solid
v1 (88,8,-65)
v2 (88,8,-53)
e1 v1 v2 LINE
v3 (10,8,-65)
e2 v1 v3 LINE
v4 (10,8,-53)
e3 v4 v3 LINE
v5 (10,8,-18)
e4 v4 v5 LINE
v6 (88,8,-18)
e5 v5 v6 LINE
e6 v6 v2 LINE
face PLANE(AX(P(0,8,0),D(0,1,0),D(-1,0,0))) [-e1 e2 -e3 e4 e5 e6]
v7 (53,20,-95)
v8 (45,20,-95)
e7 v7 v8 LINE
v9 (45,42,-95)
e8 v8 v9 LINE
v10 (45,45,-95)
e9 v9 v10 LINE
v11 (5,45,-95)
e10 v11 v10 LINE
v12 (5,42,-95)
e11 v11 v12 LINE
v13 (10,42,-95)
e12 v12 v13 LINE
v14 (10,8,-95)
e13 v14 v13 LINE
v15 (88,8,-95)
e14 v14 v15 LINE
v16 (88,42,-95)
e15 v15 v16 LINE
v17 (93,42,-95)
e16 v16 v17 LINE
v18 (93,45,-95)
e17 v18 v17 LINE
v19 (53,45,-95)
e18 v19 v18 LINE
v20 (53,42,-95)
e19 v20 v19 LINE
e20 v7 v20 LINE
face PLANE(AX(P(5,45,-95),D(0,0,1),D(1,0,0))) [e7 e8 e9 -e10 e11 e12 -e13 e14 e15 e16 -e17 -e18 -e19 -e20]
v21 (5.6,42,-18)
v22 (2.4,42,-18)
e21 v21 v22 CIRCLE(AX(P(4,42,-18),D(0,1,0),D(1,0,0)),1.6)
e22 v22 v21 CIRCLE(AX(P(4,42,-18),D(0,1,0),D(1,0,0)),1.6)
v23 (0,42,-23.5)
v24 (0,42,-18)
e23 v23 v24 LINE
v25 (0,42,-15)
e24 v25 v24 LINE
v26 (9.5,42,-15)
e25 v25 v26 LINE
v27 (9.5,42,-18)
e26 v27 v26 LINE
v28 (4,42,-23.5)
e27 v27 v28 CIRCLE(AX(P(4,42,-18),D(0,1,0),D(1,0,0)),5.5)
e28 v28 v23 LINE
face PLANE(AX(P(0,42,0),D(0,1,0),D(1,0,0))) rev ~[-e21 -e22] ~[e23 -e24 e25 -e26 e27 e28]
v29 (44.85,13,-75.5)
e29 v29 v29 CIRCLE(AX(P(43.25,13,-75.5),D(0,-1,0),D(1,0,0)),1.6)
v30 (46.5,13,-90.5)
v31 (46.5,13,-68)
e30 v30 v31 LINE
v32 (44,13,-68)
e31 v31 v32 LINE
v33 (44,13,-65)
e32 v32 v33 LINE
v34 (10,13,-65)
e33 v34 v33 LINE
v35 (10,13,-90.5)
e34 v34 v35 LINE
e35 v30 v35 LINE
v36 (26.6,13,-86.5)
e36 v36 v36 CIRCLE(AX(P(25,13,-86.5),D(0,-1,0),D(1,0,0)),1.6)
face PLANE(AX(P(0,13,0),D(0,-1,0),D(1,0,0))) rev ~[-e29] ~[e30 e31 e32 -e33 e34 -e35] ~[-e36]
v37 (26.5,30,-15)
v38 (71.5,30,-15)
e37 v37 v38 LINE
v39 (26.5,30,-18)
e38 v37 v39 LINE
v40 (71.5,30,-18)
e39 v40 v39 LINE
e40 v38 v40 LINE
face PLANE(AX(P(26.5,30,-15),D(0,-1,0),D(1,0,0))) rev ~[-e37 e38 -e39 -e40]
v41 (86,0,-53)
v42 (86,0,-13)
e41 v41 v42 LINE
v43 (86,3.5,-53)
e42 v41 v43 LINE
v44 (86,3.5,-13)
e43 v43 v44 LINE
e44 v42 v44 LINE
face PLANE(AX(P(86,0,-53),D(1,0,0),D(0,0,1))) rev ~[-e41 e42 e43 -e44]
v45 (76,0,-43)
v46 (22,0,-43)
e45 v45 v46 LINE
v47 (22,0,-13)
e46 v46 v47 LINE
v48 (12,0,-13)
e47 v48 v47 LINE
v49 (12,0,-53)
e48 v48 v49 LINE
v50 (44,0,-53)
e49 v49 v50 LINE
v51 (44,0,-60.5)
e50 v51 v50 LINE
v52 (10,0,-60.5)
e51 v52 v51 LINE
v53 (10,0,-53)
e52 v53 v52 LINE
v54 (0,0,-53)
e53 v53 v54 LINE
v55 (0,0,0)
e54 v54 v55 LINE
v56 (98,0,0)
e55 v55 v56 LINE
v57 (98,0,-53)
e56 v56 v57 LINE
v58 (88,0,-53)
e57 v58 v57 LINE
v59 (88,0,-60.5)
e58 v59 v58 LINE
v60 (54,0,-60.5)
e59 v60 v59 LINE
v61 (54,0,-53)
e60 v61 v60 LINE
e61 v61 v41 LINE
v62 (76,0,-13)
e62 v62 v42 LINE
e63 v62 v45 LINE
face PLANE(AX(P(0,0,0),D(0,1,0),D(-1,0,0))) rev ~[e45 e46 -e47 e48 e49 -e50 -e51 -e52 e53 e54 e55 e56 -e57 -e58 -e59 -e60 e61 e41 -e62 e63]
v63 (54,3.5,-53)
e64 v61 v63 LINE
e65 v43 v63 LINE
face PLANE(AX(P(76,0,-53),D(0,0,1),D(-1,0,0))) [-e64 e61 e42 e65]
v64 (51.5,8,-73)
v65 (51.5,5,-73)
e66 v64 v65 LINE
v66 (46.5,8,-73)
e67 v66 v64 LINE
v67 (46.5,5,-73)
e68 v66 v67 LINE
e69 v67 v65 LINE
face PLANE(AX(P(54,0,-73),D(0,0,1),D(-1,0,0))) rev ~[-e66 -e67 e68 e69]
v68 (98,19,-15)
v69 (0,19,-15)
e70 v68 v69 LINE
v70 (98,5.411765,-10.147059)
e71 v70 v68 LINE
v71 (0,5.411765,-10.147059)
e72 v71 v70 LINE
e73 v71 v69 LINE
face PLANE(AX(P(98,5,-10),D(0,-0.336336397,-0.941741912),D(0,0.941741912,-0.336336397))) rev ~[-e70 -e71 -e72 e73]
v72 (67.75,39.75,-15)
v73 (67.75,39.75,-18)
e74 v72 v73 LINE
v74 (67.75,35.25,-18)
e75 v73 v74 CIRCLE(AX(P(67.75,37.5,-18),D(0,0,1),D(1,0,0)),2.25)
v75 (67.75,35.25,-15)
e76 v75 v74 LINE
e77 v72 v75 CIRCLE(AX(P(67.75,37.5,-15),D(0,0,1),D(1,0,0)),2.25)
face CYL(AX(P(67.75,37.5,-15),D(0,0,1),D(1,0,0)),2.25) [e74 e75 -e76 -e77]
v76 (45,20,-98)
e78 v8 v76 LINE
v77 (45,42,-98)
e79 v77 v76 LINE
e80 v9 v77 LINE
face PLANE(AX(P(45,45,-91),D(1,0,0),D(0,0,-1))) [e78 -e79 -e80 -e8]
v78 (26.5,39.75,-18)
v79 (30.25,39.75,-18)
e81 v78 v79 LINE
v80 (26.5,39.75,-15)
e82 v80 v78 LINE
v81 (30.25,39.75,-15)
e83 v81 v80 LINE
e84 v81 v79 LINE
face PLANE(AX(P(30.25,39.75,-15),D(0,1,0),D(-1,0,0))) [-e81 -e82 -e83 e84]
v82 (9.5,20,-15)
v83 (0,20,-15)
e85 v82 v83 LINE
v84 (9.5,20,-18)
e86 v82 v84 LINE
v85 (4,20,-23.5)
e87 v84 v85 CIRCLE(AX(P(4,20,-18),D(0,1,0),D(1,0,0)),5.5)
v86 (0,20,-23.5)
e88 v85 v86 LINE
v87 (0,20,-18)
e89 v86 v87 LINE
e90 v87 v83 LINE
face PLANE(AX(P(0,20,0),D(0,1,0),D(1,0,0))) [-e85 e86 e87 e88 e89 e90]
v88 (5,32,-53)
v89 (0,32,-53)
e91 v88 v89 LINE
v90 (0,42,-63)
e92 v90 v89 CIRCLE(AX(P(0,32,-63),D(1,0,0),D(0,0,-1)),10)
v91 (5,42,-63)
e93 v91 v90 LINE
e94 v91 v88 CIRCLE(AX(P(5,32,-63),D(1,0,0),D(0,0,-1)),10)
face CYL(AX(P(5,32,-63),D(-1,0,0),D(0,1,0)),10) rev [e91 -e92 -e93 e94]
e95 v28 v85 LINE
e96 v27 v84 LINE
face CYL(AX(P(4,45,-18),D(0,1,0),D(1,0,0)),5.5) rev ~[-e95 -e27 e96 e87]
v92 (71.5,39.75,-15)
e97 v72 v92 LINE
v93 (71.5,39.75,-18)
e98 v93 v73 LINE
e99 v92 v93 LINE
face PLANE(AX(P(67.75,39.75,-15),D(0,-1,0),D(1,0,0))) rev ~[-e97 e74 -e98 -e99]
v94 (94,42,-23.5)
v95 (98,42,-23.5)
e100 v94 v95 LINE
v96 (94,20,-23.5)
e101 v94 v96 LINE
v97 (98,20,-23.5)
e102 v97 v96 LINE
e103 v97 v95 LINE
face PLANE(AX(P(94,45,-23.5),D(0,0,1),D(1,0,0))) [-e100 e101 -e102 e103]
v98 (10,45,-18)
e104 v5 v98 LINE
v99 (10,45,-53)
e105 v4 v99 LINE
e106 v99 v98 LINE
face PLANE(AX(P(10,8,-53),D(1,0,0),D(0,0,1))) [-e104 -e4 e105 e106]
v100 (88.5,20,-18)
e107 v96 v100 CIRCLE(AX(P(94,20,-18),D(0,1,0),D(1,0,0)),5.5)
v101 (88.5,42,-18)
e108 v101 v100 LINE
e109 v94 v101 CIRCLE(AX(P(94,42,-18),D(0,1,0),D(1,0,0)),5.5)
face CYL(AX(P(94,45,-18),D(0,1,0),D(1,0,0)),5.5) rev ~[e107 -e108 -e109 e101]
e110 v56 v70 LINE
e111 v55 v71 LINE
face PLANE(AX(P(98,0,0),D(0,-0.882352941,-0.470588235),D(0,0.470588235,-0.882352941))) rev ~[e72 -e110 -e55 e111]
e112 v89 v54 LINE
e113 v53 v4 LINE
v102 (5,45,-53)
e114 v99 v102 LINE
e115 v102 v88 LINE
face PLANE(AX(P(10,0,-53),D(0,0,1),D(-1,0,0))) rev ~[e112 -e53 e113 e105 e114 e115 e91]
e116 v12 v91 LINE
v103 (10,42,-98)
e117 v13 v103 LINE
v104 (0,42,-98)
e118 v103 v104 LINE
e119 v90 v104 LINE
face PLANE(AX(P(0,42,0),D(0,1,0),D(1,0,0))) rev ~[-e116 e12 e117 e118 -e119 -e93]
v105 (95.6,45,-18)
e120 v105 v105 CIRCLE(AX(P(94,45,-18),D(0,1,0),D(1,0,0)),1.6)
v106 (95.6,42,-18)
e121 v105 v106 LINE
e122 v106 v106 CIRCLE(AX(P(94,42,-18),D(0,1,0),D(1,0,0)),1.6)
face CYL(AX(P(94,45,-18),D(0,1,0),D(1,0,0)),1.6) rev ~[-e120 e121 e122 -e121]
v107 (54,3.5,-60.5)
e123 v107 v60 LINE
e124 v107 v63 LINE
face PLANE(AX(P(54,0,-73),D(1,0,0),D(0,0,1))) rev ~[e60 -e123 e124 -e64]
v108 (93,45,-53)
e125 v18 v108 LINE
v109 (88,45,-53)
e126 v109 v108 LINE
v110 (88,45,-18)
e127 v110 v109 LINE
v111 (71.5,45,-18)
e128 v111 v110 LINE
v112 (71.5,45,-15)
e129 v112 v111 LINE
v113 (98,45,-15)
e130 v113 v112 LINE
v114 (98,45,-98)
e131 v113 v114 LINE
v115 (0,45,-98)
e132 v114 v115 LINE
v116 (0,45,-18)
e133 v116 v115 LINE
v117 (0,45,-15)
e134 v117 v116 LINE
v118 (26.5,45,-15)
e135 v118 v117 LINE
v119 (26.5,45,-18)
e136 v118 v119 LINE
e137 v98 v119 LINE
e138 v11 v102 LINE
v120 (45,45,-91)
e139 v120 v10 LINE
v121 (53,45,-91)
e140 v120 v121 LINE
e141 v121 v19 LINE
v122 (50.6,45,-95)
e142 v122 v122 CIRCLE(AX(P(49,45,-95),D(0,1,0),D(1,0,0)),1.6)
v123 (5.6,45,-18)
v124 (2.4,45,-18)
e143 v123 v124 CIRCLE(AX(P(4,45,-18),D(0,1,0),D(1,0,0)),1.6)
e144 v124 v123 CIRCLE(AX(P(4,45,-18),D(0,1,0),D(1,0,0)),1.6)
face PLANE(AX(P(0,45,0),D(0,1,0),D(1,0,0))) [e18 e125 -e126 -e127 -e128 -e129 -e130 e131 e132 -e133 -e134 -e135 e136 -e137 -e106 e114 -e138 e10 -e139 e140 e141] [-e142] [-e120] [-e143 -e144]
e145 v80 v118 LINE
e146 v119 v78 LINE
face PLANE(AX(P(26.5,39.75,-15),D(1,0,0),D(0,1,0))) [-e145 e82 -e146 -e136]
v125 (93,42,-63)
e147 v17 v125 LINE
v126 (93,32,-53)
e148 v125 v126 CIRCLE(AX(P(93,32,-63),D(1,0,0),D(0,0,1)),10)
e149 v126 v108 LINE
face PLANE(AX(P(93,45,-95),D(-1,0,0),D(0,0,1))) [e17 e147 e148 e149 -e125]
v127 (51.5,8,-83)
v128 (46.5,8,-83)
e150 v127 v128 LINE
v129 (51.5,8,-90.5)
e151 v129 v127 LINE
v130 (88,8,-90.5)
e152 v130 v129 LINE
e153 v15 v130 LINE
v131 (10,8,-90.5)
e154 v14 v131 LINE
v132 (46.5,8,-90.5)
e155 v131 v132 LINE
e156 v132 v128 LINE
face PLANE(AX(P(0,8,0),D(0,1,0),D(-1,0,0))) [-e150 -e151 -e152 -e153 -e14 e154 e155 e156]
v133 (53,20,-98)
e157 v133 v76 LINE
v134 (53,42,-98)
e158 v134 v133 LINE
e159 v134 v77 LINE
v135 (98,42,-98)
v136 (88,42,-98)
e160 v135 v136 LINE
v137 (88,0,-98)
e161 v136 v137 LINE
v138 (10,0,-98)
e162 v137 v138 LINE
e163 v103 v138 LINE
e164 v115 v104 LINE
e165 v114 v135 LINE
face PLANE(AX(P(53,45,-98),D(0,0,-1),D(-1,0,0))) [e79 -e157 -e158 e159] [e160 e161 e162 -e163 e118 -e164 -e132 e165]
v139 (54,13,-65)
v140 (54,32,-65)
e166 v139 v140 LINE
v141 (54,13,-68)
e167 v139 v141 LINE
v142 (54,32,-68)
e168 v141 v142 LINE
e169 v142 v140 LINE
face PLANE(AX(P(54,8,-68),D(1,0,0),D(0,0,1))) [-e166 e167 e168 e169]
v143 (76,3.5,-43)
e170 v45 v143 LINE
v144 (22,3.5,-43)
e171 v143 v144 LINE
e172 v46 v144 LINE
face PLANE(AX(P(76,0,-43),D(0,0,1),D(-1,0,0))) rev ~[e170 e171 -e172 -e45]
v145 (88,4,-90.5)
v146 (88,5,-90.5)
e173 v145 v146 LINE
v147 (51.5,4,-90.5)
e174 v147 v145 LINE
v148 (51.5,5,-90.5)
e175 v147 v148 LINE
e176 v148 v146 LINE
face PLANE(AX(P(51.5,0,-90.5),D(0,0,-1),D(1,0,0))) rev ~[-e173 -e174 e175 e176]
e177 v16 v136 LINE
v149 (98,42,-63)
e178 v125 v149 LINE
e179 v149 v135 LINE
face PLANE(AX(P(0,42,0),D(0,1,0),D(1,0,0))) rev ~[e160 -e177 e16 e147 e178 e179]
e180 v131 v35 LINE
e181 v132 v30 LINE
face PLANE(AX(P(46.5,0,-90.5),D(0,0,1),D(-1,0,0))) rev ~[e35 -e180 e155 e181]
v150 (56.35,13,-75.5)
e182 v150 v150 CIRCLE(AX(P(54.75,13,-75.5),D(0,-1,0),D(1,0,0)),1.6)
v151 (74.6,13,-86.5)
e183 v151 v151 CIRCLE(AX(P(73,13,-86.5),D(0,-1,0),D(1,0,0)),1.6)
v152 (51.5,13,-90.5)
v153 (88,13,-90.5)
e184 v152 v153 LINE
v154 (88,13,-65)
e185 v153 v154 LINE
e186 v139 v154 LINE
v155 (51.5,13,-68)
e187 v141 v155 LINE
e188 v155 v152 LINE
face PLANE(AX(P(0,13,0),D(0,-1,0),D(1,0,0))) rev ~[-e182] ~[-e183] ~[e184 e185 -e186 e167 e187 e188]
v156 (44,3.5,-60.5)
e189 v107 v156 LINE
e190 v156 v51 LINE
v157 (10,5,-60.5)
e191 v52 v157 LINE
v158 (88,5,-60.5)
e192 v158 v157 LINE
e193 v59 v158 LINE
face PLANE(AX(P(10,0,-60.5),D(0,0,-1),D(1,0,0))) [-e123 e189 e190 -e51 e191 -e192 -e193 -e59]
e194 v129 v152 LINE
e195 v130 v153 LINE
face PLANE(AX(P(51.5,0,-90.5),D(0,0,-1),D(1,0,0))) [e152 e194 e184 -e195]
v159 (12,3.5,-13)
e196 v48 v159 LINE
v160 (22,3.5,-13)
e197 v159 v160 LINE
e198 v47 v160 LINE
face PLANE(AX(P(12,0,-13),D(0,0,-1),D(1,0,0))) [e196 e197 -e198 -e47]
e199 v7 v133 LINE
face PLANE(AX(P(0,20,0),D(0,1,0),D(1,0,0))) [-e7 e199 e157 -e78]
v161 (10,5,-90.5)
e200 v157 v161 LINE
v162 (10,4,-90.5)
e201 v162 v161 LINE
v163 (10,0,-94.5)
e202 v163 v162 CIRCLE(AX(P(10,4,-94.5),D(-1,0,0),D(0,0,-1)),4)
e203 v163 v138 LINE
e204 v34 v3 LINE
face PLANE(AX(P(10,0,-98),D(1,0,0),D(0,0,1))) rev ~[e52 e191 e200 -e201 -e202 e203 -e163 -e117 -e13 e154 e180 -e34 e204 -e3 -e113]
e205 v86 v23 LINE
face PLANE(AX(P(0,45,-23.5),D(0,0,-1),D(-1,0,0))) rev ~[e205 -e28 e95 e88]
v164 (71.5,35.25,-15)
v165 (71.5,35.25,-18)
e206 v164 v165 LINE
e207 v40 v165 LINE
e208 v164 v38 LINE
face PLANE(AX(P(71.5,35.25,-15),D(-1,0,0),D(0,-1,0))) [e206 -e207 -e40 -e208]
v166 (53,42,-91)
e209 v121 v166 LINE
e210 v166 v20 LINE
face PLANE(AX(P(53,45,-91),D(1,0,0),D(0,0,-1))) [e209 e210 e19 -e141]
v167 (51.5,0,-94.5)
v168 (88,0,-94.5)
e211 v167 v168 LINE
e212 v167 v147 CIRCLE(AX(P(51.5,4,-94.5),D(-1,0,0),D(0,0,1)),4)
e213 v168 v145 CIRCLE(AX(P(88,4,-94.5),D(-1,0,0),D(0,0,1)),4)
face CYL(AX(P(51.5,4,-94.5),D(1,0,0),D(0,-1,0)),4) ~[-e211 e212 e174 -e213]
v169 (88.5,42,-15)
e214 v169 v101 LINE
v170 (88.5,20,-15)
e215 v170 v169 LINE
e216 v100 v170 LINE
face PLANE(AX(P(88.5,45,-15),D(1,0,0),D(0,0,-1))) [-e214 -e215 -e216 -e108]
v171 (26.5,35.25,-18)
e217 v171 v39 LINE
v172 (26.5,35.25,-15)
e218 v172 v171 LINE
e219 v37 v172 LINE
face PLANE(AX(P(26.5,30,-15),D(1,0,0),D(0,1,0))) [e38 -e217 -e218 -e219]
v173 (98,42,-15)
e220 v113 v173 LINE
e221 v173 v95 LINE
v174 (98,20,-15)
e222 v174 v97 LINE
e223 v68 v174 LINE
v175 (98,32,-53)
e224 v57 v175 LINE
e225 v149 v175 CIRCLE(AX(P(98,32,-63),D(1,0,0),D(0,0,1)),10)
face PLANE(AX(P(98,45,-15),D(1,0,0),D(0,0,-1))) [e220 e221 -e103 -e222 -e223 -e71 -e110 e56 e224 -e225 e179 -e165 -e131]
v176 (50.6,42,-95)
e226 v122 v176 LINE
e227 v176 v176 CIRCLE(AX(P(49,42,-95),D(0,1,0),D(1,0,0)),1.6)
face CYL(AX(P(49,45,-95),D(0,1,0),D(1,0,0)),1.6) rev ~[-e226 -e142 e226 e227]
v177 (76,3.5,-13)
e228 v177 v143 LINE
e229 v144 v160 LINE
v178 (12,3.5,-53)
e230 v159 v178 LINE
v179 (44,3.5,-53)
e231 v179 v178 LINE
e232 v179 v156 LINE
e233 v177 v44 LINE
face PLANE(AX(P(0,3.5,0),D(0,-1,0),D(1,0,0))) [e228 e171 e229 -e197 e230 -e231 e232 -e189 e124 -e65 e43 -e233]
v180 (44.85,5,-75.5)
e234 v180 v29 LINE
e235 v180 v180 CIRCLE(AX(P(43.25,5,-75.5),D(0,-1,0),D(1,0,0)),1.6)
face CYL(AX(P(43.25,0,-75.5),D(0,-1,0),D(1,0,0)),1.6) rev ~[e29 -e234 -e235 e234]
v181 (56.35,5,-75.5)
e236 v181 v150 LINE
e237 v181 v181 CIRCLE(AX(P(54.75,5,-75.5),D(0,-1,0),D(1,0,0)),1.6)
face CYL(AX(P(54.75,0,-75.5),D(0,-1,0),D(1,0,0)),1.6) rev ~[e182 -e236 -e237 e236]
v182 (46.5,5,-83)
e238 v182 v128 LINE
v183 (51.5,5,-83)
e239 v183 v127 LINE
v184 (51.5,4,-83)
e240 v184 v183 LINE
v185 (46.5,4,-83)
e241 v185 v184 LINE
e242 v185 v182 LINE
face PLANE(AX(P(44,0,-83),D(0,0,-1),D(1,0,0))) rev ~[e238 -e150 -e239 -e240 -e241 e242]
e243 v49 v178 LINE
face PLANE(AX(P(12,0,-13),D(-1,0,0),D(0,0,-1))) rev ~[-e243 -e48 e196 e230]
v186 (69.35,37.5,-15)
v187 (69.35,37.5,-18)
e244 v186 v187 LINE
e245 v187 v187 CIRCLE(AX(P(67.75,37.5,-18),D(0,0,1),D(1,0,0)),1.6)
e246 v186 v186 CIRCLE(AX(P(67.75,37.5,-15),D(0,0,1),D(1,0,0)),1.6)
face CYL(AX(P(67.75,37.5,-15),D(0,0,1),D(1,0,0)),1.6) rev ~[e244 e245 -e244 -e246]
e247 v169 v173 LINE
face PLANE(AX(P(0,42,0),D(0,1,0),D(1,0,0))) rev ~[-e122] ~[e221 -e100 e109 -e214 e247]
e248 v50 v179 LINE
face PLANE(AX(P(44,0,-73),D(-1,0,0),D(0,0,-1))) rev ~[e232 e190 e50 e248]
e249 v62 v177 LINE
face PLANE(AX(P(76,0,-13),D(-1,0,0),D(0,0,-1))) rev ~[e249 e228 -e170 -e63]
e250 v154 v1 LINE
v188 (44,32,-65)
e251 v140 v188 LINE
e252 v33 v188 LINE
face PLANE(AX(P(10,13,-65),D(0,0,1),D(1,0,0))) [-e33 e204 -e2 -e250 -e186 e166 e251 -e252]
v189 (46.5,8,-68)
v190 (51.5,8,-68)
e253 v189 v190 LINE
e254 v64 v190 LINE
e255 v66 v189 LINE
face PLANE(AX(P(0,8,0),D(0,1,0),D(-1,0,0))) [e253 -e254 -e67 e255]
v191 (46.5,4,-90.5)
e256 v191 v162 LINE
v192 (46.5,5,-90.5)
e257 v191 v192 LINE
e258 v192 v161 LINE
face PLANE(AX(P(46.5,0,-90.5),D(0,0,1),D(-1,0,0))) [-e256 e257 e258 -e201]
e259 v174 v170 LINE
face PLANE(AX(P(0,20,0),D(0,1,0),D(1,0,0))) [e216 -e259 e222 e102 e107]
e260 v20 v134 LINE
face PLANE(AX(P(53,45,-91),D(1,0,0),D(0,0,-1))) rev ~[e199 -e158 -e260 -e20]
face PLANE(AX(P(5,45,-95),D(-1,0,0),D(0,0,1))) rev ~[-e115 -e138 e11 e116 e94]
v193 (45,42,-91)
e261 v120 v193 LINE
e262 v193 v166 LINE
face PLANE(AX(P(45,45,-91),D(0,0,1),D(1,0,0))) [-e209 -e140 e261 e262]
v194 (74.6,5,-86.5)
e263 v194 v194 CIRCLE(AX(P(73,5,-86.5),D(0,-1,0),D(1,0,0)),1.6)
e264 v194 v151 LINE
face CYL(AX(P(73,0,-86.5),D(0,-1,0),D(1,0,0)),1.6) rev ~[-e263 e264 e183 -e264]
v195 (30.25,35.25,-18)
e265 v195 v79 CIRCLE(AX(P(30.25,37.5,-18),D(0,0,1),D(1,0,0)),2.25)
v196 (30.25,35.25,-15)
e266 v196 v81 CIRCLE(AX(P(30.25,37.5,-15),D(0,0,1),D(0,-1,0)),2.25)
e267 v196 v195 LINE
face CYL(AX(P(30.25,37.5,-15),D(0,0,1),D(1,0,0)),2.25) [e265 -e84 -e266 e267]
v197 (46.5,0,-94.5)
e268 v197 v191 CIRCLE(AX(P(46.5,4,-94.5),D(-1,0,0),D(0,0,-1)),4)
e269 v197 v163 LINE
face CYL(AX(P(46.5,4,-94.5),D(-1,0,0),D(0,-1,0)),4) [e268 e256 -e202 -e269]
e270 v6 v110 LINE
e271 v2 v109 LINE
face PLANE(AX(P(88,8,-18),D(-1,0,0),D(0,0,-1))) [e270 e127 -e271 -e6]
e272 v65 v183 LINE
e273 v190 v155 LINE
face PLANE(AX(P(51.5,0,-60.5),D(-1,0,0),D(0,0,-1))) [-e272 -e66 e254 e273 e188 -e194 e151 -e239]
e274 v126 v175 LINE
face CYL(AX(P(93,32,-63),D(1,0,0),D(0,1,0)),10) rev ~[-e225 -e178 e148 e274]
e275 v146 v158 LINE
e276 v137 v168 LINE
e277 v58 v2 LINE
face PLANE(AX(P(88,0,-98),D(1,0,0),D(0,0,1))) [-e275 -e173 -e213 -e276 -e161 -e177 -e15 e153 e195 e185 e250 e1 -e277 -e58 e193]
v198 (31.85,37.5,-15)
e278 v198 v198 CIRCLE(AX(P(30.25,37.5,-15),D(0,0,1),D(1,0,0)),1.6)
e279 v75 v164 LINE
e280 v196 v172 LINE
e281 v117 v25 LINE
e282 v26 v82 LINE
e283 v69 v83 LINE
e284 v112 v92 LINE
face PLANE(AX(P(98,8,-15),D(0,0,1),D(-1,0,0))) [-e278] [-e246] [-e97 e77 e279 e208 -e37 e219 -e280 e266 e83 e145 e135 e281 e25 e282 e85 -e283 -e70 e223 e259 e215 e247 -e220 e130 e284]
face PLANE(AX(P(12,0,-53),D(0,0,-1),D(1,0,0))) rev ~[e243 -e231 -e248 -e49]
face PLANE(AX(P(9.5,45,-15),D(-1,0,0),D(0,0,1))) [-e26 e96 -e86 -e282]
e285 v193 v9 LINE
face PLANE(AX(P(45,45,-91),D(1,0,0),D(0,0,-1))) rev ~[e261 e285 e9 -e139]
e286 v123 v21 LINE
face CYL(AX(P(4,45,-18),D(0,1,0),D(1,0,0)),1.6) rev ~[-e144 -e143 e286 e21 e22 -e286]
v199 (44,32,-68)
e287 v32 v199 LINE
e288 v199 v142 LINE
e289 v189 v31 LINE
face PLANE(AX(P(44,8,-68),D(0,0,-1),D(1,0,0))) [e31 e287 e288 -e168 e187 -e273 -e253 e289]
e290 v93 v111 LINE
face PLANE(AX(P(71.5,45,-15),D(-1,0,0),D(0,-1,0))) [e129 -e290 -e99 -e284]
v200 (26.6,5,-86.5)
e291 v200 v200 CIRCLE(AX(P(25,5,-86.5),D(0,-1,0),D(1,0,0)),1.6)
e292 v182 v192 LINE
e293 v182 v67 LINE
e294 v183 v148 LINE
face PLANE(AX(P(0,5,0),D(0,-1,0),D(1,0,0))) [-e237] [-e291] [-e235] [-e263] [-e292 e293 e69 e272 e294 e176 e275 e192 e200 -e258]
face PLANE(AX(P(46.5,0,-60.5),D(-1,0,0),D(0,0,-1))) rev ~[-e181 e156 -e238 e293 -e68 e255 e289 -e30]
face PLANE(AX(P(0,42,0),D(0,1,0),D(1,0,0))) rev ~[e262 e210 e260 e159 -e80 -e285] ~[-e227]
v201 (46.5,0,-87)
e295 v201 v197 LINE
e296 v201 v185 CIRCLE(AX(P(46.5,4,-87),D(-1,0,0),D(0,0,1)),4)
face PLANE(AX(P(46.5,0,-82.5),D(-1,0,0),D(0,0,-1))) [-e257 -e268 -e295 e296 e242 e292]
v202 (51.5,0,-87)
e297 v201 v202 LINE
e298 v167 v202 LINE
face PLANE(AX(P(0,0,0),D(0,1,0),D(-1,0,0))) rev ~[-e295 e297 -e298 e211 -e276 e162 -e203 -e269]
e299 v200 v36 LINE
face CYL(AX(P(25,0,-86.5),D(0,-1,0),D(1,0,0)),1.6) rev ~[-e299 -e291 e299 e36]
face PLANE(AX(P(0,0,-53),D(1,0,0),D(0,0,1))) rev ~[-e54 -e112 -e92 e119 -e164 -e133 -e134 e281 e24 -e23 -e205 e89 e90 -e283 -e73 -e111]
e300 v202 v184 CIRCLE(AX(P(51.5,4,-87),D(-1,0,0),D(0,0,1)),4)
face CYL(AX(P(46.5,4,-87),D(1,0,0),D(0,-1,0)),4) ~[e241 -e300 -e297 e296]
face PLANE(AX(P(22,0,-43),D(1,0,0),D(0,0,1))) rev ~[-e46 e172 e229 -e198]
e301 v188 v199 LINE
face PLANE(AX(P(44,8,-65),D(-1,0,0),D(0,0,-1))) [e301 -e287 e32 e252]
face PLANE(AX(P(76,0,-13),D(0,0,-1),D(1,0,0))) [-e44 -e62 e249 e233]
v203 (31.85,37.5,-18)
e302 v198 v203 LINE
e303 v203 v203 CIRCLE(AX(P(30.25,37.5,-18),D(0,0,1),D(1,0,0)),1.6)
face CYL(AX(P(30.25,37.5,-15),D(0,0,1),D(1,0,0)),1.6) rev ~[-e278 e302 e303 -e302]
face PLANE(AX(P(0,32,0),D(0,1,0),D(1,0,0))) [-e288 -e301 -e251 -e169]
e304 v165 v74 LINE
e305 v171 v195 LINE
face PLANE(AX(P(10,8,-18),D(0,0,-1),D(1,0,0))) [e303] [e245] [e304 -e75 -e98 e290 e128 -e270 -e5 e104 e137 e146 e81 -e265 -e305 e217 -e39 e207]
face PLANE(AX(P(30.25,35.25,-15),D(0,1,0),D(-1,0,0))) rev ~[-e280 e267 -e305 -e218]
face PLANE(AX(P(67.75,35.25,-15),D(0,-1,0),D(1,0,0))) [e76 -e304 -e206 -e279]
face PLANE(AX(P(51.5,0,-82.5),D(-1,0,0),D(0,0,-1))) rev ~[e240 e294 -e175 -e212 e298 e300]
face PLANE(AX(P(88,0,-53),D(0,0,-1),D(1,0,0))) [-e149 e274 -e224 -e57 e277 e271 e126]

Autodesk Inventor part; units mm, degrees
ref_plane "YZ Plane" through (0, 0, 0) normal (1, 0, 0) x (0, 1, 0)
ref_plane "XZ Plane" through (0, 0, 0) normal (0, 1, 0) x (-1, 0, 0)
ref_plane "XY Plane" through (0, 0, 0) normal (0, 0, 1) x (1, 0, 0)
sketch "Szkic1" plane through (0, 0, 0) normal (0, 1, 0) x (-1, 0, 0)
  line L0 (0, 0) -> (-98, 0)
  line L1 (-98, 0) -> (-98, -98)
  line L2 (-98, -98) -> (0, -98)
  line L3 (0, -98) -> (0, 0)
  line L4 (-88, -98) -> (-88, -53)
  line L5 (-88, -53) -> (-98, -53)
  line L6 (-10, -98) -> (-10, -53)
  line L7 (-10, -53) -> (0, -53)
  dimension "d0" = 98
  dimension "d1" = 98
  dimension "d2" = 45
  dimension "d3" = 10
  dimension "d4" = 10
extrude "Wyciągnięcie proste1" add sketch "Szkic1" along normal blind 8 contours L3 L7 L6 L2 L4 L5 L1 L0
sketch "Szkic2" plane through (0, 8, 0) normal (0, 1, 0) x (1, 0, 0)
  line L0 (0, 0) -> (98, 0)
  line L1 (98, 0) -> (98, 98)
  line L2 (98, 98) -> (0, 98)
  line L3 (0, 98) -> (0, 0)
  line L4 (10, 18) -> (88, 18)
  line L5 (88, 18) -> (88, 65)
  line L6 (88, 65) -> (10, 65)
  line L7 (10, 65) -> (10, 18)
  line L8 (98, 0) -> (98, 18) construction
  line L9 (88, 18) -> (98, 18) construction
  line L10 (98, 15) -> (0, 15)
  line L11 (88, 18) -> (88, 15) construction
  line L12 (98, 15) -> (98, 53)
  line L13 (88, 53) -> (98, 53)
  line L14 (0, 15) -> (0, 53)
  line L15 (10, 53) -> (0, 53)
  line L16 (10, 98) -> (10, 95)
  line L17 (10, 95) -> (88, 95)
  line L18 (88, 95) -> (88, 98)
  line L19 (44, 65) -> (44, 68)
  line L20 (44, 68) -> (54, 68)
  line L21 (54, 68) -> (54, 65)
  dimension "d7" = 98
  dimension "d8" = 98
  dimension "d9" = 47
  dimension "d10" = 78
  dimension "d11" = 18
  dimension "d12" = 10
  dimension "d13" = 3
  dimension "d14" = 38
  dimension "d15" = 38
  dimension "d16" = 3
  dimension "d17" = 78
  dimension "d30" = 3
  dimension "d31" = 10
  dimension "d32" = 44
  dimension "d36" = 10
  dimension "d37" = 0
  dimension "d38" = 38
extrude "Wyciągnięcie proste2" add sketch "Szkic2" along normal blind 37 contours L3 L15 L7 L4 L5 L13 L1 L10 | L2 L18 L17 L16
sketch "Szkic3" plane through (0, 45, 0) normal (0, 1, 0) x (1, 0, 0)
  line L0 (0, 0) -> (0, 98)
  line L1 (0, 98) -> (5, 98)
  line L2 (5, 98) -> (10, 98)
  line L3 (10, 98) -> (88, 98)
  line L4 (88, 98) -> (93, 98)
  line L5 (93, 98) -> (98, 98)
  line L6 (5, 98) -> (5, 53)
  line L7 (5, 53) -> (0, 53)
  line L8 (93, 98) -> (93, 53)
  line L9 (93, 53) -> (88, 53)
  line L10 (88, 53) -> (88, 98)
  line L11 (88, 98) -> (88, 95)
  line L12 (88, 95) -> (93, 95)
  line L13 (5, 95) -> (10, 95)
  line L14 (10, 95) -> (10, 98)
  line L15 (93, 53) -> (98, 53)
  line L16 (98, 53) -> (98, 98)
  dimension "d20" = 98
  dimension "d21" = 5
  dimension "d22" = 5
  dimension "d23" = 78
  dimension "d24" = 5
  dimension "d25" = 5
  dimension "d26" = 45
  dimension "d27" = 3
extrude "Wyciągnięcie proste3" add sketch "Szkic3" against normal blind 3 contours L4 L8 L12 L10 | L0 L1 L6 L7 | L2 L14 L13 L6 | L5 L16 L15 L8
extrude "Wyciągnięcie proste4" add sketch "Szkic2" along normal blind 24 contours L19 L20 L21 L6
sketch "Szkic4" plane through (98, 0, 0) normal (1, 0, 0) x (0, 0, -1)
  line L0 (0, 0) -> (15, 8)
  line L1 (15, 8) -> (15, 0)
  line L2 (15, 0) -> (0, 0)
  line L3 (15, 8) -> (0, 8)
  line L4 (0, 8) -> (0, 0)
  dimension "d41" = 15
  dimension "d42" = 8
extrude "Wyciągnięcie proste5" cut sketch "Szkic4" against normal through all contours L4 L3 L0
sketch "Szkic5" plane through (0, 0, 0) normal (0, -1, 0) x (1, 0, 0)
  line L0 (0, 0) -> (0, -13) construction
  line L1 (0, -13) -> (12, -13) construction
  line L2 (12, -13) -> (22, -13)
  line L3 (22, -13) -> (76, -13) construction
  line L4 (76, -13) -> (86, -13)
  line L5 (12, -13) -> (12, -53)
  line L6 (12, -53) -> (22, -53)
  line L7 (22, -53) -> (22, -13)
  line L8 (76, -13) -> (76, -53)
  line L9 (76, -53) -> (86, -53)
  line L10 (86, -53) -> (86, -13)
  line L11 (76, -53) -> (22, -53)
  line L12 (76, -43) -> (22, -43)
  line L13 (44, -53) -> (44, -83)
  line L14 (44, -83) -> (54, -83)
  line L15 (54, -83) -> (54, -53)
  line L16 (54, -73) -> (44, -73)
  point P0 (49, -83)
  dimension "d45" = 13
  dimension "d46" = 12
  dimension "d47" = 10
  dimension "d48" = 10
  dimension "d49" = 54
  dimension "d50" = 40
  dimension "d51" = 10
  dimension "d52" = 30
  dimension "d53" = 10
  dimension "d54" = 22
  dimension "d55" = 10
extrude "Wyciągnięcie proste6" cut sketch "Szkic5" against normal blind 3.5 contours L2 L7 L6 L5 | L12 L8 L11 L7 | L8 L4 L10 L9 | L11 L15 L16 L13
extrude "Wyciągnięcie proste7" cut sketch "Szkic5" against normal through all contours L16 L15 L14 L13
sketch "Szkic6" plane through (0, 0, 0) normal (0, -1, 0) x (1, 0, 0)
  line L0 (0, 0) -> (0, -53) construction
  line L1 (0, -53) -> (0, -98) construction
  line L2 (0, -53) -> (10, -53) construction
  line L3 (10, -53) -> (10, -75.5) construction
  line L4 (10, -60.5) -> (10, -90.5)
  line L5 (10, -60.5) -> (46.5, -60.5)
  line L6 (46.5, -60.5) -> (46.5, -90.5)
  line L7 (46.5, -90.5) -> (10, -90.5)
  line L8 (46.5, -90.5) -> (51.5, -90.5) construction
  line L9 (51.5, -90.5) -> (88, -90.5)
  line L10 (88, -90.5) -> (88, -60.5)
  line L11 (88, -60.5) -> (51.5, -60.5)
  line L12 (51.5, -60.5) -> (51.5, -90.5)
  line L13 (10, -75.5) -> (25, -75.5) construction
  line L14 (25, -64.5) -> (25, -86.5) construction
  circle A0 centre (25, -86.5) radius 1.6
  line L15 (88, -75.5) -> (73, -75.5) construction
  line L16 (73, -64.5) -> (73, -86.5) construction
  circle A1 centre (73, -86.5) radius 1.6
  line L17 (25, -75.5) -> (43.25, -75.5) construction
  circle A2 centre (43.25, -75.5) radius 1.6
  line L18 (73, -75.5) -> (54.75, -75.5) construction
  circle A3 centre (54.75, -75.5) radius 1.6
  line L19 (51.5, -60.5) -> (46.5, -60.5)
  line L20 (51.5, -82.5) -> (46.5, -82.5)
  point P0 (80.5, -75.5)
  point P1 (49, -82.5)
  dimension "d60" = 53
  dimension "d61" = 45
  dimension "d62" = 10
  dimension "d63" = 22.5
  dimension "d64" = 30
  dimension "d65" = 36.5
  dimension "d66" = 5
  dimension "d67" = 36.5
  dimension "d68" = 30
  dimension "d73" = 22
  dimension "d74" = 15
  dimension "d75" = 15
  dimension "d76" = 3.2
  dimension "d78" = 15
  dimension "d79" = 22
  dimension "d80" = 15
  dimension "d81" = 3.2
  dimension "d85" = 18.25
  dimension "d86" = 3.2
  dimension "d87" = 18.25
  dimension "d88" = 3.2
  dimension "d89" = 22
extrude "Wyciągnięcie proste8" add sketch "Szkic6" against normal blind 13 contours L5 L6 L7 L4 | L11 L10 L9 L12 | A0 | A1 | A2 | A3
extrude "Wyciągnięcie proste9" cut sketch "Szkic6" against normal blind 5 contours L5 L6 L7 L4 | L19 L12 L20 L6 | L11 L10 L9 L12 | A0 | A1 | A2 | A3
extrude "Wyciągnięcie proste10" cut sketch "Szkic6" against normal through all contours A0 | A1 | A2 | A3
fillet "Zaokrąglenie1" radius 4 3 edges at (49, 0, -83) (69.75, 0, -90.5) (28.25, 0, -90.5)
fillet "Zaokrąglenie2" radius 10 2 edges at (95.5, 42, -53) (2.5, 42, -53)
sketch "Szkic7" plane through (0, 13, 0) normal (0, 1, 0) x (1, 0, 0)
  line L0 (0, 0) -> (0, 60.5) construction
  line L1 (0, 60.5) -> (10, 60.5) construction
  line L2 (10, 60.5) -> (10, 65)
  line L3 (10, 65) -> (88, 65)
  line L4 (88, 65) -> (88, 60.5)
  line L5 (88, 60.5) -> (10, 60.5)
  dimension "d92" = 10
  dimension "d93" = 60.5
  dimension "d94" = 4.5
  dimension "d95" = 78
extrude "Wyciągnięcie proste11" cut sketch "Szkic7" against normal blind 5
sketch "Szkic8" plane through (0, 45, 0) normal (0, 1, 0) x (1, 0, 0)
  line L0 (0, 0) -> (0, 15) construction
  line L1 (0, 15) -> (0, 18)
  line L2 (0, 18) -> (4, 18)
  circle A0 centre (4, 18) radius 1.6
  circle A1 centre (4, 18) radius 5.5
  line L3 (9.5, 18) -> (9.5, 10)
  line L4 (4, 23.5) -> (-4, 23.5)
  line L5 (-4, 23.5) -> (-4, 10)
  line L6 (-4, 10) -> (9.5, 10)
  line L7 (0, 15) -> (98, 15) construction
  line L8 (98, 15) -> (98, 18) construction
  line L9 (98, 18) -> (94, 18) construction
  circle A2 centre (94, 18) radius 1.6
  circle A3 centre (94, 18) radius 5.5
  line L10 (94, 23.5) -> (102, 23.5)
  line L11 (102, 23.5) -> (102, 10)
  line L12 (102, 10) -> (88.5, 10)
  line L13 (88.5, 10) -> (88.5, 18)
  line L14 (98, 21.7749) -> (98, 15)
  line L15 (98, 15) -> (89.3902, 15)
  line L16 (98, 21.7749) -> (98, 23.5)
  line L17 (89.3902, 15) -> (88.5, 15)
  line L18 (9.5, 15) -> (8.6098, 15)
  line L19 (0, 15) -> (8.6098, 15)
  line L20 (0, 15) -> (0, 21.7749)
  line L21 (0, 23.5) -> (0, 21.7749)
  dimension "d98" = 15
  dimension "d99" = 4
  dimension "d100" = 3
  dimension "d101" = 3.2
  dimension "d102" = 11
  dimension "d103" = 8
  dimension "d104" = 8
  dimension "d105" = 98
  dimension "d106" = 3
  dimension "d107" = 4
  dimension "d108" = 11
  dimension "d109" = 3.2
  dimension "d110" = 8
  dimension "d111" = 8
extrude "Wyciągnięcie proste12" cut sketch "Szkic8" against normal blind 25 contours L19 A1 L20 L1 | A0 | L1 L20 A1 L19 | L18 L3 L6 L5 L4 L21 A1 | A1 L3 L18 | L21 L4 A1 | A2 | A3 L15 L14 | A3 L16 L10 L11 L12 L13 L17 | L14 L15 A3 | A3 L10 L16 | L17 L13 A3
extrude "Wyciągnięcie proste13" add sketch "Szkic8" against normal blind 3 contours L1 L20 A1 L19 | A1 L3 L18 | L21 L4 A1 | L14 L15 A3 | A3 L10 L16 | L17 L13 A3 picked at (4.2676, 15.4706) picked at (97.2, 18.2583)
sketch "Szkic9" plane through (0, 45, 0) normal (0, 1, 0) x (1, 0, 0)
  line L0 (0, 0) -> (0, 98) construction
  line L1 (0, 98) -> (49, 98) construction
  line L2 (49, 98) -> (49, 95) construction
  line L3 (49, 95) -> (49, 91) construction
  circle A0 centre (49, 95) radius 1.6
  line L4 (45, 91) -> (53, 91)
  line L5 (45, 91) -> (45, 98)
  line L6 (53, 91) -> (53, 98)
  line L7 (53, 98) -> (45, 98)
  dimension "d116" = 3
  dimension "d117" = 4
  dimension "d118" = 49
  dimension "d119" = 98
  dimension "d120" = 3.2
  dimension "d121" = 8
extrude "Wyciągnięcie proste14" cut sketch "Szkic9" against normal blind 25 contours A0 | L5 L7 L6 L4
extrude "Wyciągnięcie proste15" add sketch "Szkic9" against normal blind 3
sketch "Szkic10" plane through (98, 45, -15) normal (1, 0, 0) x (0, 0, -1)
  line L0 (-15, -45) -> (-5, -45) construction
  line L1 (-5, -45) -> (-5, -40) construction
  line L2 (-5, -40) -> (0, -40)
  line L3 (0, -40) -> (0, -26)
  line L4 (-5, -40) -> (0, -26)
  dimension "d126" = 10
  dimension "d128" = 5
  dimension "d129" = 5
  dimension "d130" = 14
extrude "Wyciągnięcie proste16" add sketch "Szkic10" against normal blind 98
sketch "Szkic11" plane through (0, 45, -15) normal (0, 0, 1) x (1, 0, 0)
  line L0 (0, -45) -> (49, -45) construction
  line L1 (49, -45) -> (49, -15) construction
  line L2 (26.5, -15) -> (71.5, -15)
  line L3 (26.5, -15) -> (26.5, 0)
  line L4 (26.5, 0) -> (71.5, 0)
  line L5 (71.5, 0) -> (71.5, -15)
  line L6 (49, -15) -> (49, -7.5) construction
  line L7 (30.25, -7.5) -> (67.75, -7.5) construction
  circle A0 centre (67.75, -7.5) radius 1.6
  circle A1 centre (30.25, -7.5) radius 1.6
  circle A2 centre (67.75, -7.5) radius 2.25
  circle A3 centre (30.25, -7.5) radius 2.25
  line L8 (30.25, -5.25) -> (26.5, -5.25)
  line L9 (30.25, -9.75) -> (26.5, -9.75)
  line L10 (67.75, -9.75) -> (71.5, -9.75)
  line L11 (67.75, -5.25) -> (71.5, -5.25)
  point P0 (0, -45)
  dimension "d133" = 30
  dimension "d134" = 49
  dimension "d135" = 45
  dimension "d136" = 15
  dimension "d137" = 7.5
  dimension "d138" = 37.5
  dimension "d139" = 3.2
  dimension "d140" = 3.2
  dimension "d141" = 4.5
  dimension "d142" = 4.5
extrude "Wyciągnięcie proste17" cut sketch "Szkic11" against normal blind 11 contours L3 L9 A3 L8 L4 L5 L11 A2 L10 L2 | A0 | A1
equation "\"d12\" = -0.5 * d10 + 0.5 * d8"
equation "\"d15\" = d14"
equation "\"d48\" = d47"
equation "\"d63\" = 0.5 * d61"
equation "\"d67\" = d65"
equation "\"d68\" = d64"
equation "\"d87\" = d85"
